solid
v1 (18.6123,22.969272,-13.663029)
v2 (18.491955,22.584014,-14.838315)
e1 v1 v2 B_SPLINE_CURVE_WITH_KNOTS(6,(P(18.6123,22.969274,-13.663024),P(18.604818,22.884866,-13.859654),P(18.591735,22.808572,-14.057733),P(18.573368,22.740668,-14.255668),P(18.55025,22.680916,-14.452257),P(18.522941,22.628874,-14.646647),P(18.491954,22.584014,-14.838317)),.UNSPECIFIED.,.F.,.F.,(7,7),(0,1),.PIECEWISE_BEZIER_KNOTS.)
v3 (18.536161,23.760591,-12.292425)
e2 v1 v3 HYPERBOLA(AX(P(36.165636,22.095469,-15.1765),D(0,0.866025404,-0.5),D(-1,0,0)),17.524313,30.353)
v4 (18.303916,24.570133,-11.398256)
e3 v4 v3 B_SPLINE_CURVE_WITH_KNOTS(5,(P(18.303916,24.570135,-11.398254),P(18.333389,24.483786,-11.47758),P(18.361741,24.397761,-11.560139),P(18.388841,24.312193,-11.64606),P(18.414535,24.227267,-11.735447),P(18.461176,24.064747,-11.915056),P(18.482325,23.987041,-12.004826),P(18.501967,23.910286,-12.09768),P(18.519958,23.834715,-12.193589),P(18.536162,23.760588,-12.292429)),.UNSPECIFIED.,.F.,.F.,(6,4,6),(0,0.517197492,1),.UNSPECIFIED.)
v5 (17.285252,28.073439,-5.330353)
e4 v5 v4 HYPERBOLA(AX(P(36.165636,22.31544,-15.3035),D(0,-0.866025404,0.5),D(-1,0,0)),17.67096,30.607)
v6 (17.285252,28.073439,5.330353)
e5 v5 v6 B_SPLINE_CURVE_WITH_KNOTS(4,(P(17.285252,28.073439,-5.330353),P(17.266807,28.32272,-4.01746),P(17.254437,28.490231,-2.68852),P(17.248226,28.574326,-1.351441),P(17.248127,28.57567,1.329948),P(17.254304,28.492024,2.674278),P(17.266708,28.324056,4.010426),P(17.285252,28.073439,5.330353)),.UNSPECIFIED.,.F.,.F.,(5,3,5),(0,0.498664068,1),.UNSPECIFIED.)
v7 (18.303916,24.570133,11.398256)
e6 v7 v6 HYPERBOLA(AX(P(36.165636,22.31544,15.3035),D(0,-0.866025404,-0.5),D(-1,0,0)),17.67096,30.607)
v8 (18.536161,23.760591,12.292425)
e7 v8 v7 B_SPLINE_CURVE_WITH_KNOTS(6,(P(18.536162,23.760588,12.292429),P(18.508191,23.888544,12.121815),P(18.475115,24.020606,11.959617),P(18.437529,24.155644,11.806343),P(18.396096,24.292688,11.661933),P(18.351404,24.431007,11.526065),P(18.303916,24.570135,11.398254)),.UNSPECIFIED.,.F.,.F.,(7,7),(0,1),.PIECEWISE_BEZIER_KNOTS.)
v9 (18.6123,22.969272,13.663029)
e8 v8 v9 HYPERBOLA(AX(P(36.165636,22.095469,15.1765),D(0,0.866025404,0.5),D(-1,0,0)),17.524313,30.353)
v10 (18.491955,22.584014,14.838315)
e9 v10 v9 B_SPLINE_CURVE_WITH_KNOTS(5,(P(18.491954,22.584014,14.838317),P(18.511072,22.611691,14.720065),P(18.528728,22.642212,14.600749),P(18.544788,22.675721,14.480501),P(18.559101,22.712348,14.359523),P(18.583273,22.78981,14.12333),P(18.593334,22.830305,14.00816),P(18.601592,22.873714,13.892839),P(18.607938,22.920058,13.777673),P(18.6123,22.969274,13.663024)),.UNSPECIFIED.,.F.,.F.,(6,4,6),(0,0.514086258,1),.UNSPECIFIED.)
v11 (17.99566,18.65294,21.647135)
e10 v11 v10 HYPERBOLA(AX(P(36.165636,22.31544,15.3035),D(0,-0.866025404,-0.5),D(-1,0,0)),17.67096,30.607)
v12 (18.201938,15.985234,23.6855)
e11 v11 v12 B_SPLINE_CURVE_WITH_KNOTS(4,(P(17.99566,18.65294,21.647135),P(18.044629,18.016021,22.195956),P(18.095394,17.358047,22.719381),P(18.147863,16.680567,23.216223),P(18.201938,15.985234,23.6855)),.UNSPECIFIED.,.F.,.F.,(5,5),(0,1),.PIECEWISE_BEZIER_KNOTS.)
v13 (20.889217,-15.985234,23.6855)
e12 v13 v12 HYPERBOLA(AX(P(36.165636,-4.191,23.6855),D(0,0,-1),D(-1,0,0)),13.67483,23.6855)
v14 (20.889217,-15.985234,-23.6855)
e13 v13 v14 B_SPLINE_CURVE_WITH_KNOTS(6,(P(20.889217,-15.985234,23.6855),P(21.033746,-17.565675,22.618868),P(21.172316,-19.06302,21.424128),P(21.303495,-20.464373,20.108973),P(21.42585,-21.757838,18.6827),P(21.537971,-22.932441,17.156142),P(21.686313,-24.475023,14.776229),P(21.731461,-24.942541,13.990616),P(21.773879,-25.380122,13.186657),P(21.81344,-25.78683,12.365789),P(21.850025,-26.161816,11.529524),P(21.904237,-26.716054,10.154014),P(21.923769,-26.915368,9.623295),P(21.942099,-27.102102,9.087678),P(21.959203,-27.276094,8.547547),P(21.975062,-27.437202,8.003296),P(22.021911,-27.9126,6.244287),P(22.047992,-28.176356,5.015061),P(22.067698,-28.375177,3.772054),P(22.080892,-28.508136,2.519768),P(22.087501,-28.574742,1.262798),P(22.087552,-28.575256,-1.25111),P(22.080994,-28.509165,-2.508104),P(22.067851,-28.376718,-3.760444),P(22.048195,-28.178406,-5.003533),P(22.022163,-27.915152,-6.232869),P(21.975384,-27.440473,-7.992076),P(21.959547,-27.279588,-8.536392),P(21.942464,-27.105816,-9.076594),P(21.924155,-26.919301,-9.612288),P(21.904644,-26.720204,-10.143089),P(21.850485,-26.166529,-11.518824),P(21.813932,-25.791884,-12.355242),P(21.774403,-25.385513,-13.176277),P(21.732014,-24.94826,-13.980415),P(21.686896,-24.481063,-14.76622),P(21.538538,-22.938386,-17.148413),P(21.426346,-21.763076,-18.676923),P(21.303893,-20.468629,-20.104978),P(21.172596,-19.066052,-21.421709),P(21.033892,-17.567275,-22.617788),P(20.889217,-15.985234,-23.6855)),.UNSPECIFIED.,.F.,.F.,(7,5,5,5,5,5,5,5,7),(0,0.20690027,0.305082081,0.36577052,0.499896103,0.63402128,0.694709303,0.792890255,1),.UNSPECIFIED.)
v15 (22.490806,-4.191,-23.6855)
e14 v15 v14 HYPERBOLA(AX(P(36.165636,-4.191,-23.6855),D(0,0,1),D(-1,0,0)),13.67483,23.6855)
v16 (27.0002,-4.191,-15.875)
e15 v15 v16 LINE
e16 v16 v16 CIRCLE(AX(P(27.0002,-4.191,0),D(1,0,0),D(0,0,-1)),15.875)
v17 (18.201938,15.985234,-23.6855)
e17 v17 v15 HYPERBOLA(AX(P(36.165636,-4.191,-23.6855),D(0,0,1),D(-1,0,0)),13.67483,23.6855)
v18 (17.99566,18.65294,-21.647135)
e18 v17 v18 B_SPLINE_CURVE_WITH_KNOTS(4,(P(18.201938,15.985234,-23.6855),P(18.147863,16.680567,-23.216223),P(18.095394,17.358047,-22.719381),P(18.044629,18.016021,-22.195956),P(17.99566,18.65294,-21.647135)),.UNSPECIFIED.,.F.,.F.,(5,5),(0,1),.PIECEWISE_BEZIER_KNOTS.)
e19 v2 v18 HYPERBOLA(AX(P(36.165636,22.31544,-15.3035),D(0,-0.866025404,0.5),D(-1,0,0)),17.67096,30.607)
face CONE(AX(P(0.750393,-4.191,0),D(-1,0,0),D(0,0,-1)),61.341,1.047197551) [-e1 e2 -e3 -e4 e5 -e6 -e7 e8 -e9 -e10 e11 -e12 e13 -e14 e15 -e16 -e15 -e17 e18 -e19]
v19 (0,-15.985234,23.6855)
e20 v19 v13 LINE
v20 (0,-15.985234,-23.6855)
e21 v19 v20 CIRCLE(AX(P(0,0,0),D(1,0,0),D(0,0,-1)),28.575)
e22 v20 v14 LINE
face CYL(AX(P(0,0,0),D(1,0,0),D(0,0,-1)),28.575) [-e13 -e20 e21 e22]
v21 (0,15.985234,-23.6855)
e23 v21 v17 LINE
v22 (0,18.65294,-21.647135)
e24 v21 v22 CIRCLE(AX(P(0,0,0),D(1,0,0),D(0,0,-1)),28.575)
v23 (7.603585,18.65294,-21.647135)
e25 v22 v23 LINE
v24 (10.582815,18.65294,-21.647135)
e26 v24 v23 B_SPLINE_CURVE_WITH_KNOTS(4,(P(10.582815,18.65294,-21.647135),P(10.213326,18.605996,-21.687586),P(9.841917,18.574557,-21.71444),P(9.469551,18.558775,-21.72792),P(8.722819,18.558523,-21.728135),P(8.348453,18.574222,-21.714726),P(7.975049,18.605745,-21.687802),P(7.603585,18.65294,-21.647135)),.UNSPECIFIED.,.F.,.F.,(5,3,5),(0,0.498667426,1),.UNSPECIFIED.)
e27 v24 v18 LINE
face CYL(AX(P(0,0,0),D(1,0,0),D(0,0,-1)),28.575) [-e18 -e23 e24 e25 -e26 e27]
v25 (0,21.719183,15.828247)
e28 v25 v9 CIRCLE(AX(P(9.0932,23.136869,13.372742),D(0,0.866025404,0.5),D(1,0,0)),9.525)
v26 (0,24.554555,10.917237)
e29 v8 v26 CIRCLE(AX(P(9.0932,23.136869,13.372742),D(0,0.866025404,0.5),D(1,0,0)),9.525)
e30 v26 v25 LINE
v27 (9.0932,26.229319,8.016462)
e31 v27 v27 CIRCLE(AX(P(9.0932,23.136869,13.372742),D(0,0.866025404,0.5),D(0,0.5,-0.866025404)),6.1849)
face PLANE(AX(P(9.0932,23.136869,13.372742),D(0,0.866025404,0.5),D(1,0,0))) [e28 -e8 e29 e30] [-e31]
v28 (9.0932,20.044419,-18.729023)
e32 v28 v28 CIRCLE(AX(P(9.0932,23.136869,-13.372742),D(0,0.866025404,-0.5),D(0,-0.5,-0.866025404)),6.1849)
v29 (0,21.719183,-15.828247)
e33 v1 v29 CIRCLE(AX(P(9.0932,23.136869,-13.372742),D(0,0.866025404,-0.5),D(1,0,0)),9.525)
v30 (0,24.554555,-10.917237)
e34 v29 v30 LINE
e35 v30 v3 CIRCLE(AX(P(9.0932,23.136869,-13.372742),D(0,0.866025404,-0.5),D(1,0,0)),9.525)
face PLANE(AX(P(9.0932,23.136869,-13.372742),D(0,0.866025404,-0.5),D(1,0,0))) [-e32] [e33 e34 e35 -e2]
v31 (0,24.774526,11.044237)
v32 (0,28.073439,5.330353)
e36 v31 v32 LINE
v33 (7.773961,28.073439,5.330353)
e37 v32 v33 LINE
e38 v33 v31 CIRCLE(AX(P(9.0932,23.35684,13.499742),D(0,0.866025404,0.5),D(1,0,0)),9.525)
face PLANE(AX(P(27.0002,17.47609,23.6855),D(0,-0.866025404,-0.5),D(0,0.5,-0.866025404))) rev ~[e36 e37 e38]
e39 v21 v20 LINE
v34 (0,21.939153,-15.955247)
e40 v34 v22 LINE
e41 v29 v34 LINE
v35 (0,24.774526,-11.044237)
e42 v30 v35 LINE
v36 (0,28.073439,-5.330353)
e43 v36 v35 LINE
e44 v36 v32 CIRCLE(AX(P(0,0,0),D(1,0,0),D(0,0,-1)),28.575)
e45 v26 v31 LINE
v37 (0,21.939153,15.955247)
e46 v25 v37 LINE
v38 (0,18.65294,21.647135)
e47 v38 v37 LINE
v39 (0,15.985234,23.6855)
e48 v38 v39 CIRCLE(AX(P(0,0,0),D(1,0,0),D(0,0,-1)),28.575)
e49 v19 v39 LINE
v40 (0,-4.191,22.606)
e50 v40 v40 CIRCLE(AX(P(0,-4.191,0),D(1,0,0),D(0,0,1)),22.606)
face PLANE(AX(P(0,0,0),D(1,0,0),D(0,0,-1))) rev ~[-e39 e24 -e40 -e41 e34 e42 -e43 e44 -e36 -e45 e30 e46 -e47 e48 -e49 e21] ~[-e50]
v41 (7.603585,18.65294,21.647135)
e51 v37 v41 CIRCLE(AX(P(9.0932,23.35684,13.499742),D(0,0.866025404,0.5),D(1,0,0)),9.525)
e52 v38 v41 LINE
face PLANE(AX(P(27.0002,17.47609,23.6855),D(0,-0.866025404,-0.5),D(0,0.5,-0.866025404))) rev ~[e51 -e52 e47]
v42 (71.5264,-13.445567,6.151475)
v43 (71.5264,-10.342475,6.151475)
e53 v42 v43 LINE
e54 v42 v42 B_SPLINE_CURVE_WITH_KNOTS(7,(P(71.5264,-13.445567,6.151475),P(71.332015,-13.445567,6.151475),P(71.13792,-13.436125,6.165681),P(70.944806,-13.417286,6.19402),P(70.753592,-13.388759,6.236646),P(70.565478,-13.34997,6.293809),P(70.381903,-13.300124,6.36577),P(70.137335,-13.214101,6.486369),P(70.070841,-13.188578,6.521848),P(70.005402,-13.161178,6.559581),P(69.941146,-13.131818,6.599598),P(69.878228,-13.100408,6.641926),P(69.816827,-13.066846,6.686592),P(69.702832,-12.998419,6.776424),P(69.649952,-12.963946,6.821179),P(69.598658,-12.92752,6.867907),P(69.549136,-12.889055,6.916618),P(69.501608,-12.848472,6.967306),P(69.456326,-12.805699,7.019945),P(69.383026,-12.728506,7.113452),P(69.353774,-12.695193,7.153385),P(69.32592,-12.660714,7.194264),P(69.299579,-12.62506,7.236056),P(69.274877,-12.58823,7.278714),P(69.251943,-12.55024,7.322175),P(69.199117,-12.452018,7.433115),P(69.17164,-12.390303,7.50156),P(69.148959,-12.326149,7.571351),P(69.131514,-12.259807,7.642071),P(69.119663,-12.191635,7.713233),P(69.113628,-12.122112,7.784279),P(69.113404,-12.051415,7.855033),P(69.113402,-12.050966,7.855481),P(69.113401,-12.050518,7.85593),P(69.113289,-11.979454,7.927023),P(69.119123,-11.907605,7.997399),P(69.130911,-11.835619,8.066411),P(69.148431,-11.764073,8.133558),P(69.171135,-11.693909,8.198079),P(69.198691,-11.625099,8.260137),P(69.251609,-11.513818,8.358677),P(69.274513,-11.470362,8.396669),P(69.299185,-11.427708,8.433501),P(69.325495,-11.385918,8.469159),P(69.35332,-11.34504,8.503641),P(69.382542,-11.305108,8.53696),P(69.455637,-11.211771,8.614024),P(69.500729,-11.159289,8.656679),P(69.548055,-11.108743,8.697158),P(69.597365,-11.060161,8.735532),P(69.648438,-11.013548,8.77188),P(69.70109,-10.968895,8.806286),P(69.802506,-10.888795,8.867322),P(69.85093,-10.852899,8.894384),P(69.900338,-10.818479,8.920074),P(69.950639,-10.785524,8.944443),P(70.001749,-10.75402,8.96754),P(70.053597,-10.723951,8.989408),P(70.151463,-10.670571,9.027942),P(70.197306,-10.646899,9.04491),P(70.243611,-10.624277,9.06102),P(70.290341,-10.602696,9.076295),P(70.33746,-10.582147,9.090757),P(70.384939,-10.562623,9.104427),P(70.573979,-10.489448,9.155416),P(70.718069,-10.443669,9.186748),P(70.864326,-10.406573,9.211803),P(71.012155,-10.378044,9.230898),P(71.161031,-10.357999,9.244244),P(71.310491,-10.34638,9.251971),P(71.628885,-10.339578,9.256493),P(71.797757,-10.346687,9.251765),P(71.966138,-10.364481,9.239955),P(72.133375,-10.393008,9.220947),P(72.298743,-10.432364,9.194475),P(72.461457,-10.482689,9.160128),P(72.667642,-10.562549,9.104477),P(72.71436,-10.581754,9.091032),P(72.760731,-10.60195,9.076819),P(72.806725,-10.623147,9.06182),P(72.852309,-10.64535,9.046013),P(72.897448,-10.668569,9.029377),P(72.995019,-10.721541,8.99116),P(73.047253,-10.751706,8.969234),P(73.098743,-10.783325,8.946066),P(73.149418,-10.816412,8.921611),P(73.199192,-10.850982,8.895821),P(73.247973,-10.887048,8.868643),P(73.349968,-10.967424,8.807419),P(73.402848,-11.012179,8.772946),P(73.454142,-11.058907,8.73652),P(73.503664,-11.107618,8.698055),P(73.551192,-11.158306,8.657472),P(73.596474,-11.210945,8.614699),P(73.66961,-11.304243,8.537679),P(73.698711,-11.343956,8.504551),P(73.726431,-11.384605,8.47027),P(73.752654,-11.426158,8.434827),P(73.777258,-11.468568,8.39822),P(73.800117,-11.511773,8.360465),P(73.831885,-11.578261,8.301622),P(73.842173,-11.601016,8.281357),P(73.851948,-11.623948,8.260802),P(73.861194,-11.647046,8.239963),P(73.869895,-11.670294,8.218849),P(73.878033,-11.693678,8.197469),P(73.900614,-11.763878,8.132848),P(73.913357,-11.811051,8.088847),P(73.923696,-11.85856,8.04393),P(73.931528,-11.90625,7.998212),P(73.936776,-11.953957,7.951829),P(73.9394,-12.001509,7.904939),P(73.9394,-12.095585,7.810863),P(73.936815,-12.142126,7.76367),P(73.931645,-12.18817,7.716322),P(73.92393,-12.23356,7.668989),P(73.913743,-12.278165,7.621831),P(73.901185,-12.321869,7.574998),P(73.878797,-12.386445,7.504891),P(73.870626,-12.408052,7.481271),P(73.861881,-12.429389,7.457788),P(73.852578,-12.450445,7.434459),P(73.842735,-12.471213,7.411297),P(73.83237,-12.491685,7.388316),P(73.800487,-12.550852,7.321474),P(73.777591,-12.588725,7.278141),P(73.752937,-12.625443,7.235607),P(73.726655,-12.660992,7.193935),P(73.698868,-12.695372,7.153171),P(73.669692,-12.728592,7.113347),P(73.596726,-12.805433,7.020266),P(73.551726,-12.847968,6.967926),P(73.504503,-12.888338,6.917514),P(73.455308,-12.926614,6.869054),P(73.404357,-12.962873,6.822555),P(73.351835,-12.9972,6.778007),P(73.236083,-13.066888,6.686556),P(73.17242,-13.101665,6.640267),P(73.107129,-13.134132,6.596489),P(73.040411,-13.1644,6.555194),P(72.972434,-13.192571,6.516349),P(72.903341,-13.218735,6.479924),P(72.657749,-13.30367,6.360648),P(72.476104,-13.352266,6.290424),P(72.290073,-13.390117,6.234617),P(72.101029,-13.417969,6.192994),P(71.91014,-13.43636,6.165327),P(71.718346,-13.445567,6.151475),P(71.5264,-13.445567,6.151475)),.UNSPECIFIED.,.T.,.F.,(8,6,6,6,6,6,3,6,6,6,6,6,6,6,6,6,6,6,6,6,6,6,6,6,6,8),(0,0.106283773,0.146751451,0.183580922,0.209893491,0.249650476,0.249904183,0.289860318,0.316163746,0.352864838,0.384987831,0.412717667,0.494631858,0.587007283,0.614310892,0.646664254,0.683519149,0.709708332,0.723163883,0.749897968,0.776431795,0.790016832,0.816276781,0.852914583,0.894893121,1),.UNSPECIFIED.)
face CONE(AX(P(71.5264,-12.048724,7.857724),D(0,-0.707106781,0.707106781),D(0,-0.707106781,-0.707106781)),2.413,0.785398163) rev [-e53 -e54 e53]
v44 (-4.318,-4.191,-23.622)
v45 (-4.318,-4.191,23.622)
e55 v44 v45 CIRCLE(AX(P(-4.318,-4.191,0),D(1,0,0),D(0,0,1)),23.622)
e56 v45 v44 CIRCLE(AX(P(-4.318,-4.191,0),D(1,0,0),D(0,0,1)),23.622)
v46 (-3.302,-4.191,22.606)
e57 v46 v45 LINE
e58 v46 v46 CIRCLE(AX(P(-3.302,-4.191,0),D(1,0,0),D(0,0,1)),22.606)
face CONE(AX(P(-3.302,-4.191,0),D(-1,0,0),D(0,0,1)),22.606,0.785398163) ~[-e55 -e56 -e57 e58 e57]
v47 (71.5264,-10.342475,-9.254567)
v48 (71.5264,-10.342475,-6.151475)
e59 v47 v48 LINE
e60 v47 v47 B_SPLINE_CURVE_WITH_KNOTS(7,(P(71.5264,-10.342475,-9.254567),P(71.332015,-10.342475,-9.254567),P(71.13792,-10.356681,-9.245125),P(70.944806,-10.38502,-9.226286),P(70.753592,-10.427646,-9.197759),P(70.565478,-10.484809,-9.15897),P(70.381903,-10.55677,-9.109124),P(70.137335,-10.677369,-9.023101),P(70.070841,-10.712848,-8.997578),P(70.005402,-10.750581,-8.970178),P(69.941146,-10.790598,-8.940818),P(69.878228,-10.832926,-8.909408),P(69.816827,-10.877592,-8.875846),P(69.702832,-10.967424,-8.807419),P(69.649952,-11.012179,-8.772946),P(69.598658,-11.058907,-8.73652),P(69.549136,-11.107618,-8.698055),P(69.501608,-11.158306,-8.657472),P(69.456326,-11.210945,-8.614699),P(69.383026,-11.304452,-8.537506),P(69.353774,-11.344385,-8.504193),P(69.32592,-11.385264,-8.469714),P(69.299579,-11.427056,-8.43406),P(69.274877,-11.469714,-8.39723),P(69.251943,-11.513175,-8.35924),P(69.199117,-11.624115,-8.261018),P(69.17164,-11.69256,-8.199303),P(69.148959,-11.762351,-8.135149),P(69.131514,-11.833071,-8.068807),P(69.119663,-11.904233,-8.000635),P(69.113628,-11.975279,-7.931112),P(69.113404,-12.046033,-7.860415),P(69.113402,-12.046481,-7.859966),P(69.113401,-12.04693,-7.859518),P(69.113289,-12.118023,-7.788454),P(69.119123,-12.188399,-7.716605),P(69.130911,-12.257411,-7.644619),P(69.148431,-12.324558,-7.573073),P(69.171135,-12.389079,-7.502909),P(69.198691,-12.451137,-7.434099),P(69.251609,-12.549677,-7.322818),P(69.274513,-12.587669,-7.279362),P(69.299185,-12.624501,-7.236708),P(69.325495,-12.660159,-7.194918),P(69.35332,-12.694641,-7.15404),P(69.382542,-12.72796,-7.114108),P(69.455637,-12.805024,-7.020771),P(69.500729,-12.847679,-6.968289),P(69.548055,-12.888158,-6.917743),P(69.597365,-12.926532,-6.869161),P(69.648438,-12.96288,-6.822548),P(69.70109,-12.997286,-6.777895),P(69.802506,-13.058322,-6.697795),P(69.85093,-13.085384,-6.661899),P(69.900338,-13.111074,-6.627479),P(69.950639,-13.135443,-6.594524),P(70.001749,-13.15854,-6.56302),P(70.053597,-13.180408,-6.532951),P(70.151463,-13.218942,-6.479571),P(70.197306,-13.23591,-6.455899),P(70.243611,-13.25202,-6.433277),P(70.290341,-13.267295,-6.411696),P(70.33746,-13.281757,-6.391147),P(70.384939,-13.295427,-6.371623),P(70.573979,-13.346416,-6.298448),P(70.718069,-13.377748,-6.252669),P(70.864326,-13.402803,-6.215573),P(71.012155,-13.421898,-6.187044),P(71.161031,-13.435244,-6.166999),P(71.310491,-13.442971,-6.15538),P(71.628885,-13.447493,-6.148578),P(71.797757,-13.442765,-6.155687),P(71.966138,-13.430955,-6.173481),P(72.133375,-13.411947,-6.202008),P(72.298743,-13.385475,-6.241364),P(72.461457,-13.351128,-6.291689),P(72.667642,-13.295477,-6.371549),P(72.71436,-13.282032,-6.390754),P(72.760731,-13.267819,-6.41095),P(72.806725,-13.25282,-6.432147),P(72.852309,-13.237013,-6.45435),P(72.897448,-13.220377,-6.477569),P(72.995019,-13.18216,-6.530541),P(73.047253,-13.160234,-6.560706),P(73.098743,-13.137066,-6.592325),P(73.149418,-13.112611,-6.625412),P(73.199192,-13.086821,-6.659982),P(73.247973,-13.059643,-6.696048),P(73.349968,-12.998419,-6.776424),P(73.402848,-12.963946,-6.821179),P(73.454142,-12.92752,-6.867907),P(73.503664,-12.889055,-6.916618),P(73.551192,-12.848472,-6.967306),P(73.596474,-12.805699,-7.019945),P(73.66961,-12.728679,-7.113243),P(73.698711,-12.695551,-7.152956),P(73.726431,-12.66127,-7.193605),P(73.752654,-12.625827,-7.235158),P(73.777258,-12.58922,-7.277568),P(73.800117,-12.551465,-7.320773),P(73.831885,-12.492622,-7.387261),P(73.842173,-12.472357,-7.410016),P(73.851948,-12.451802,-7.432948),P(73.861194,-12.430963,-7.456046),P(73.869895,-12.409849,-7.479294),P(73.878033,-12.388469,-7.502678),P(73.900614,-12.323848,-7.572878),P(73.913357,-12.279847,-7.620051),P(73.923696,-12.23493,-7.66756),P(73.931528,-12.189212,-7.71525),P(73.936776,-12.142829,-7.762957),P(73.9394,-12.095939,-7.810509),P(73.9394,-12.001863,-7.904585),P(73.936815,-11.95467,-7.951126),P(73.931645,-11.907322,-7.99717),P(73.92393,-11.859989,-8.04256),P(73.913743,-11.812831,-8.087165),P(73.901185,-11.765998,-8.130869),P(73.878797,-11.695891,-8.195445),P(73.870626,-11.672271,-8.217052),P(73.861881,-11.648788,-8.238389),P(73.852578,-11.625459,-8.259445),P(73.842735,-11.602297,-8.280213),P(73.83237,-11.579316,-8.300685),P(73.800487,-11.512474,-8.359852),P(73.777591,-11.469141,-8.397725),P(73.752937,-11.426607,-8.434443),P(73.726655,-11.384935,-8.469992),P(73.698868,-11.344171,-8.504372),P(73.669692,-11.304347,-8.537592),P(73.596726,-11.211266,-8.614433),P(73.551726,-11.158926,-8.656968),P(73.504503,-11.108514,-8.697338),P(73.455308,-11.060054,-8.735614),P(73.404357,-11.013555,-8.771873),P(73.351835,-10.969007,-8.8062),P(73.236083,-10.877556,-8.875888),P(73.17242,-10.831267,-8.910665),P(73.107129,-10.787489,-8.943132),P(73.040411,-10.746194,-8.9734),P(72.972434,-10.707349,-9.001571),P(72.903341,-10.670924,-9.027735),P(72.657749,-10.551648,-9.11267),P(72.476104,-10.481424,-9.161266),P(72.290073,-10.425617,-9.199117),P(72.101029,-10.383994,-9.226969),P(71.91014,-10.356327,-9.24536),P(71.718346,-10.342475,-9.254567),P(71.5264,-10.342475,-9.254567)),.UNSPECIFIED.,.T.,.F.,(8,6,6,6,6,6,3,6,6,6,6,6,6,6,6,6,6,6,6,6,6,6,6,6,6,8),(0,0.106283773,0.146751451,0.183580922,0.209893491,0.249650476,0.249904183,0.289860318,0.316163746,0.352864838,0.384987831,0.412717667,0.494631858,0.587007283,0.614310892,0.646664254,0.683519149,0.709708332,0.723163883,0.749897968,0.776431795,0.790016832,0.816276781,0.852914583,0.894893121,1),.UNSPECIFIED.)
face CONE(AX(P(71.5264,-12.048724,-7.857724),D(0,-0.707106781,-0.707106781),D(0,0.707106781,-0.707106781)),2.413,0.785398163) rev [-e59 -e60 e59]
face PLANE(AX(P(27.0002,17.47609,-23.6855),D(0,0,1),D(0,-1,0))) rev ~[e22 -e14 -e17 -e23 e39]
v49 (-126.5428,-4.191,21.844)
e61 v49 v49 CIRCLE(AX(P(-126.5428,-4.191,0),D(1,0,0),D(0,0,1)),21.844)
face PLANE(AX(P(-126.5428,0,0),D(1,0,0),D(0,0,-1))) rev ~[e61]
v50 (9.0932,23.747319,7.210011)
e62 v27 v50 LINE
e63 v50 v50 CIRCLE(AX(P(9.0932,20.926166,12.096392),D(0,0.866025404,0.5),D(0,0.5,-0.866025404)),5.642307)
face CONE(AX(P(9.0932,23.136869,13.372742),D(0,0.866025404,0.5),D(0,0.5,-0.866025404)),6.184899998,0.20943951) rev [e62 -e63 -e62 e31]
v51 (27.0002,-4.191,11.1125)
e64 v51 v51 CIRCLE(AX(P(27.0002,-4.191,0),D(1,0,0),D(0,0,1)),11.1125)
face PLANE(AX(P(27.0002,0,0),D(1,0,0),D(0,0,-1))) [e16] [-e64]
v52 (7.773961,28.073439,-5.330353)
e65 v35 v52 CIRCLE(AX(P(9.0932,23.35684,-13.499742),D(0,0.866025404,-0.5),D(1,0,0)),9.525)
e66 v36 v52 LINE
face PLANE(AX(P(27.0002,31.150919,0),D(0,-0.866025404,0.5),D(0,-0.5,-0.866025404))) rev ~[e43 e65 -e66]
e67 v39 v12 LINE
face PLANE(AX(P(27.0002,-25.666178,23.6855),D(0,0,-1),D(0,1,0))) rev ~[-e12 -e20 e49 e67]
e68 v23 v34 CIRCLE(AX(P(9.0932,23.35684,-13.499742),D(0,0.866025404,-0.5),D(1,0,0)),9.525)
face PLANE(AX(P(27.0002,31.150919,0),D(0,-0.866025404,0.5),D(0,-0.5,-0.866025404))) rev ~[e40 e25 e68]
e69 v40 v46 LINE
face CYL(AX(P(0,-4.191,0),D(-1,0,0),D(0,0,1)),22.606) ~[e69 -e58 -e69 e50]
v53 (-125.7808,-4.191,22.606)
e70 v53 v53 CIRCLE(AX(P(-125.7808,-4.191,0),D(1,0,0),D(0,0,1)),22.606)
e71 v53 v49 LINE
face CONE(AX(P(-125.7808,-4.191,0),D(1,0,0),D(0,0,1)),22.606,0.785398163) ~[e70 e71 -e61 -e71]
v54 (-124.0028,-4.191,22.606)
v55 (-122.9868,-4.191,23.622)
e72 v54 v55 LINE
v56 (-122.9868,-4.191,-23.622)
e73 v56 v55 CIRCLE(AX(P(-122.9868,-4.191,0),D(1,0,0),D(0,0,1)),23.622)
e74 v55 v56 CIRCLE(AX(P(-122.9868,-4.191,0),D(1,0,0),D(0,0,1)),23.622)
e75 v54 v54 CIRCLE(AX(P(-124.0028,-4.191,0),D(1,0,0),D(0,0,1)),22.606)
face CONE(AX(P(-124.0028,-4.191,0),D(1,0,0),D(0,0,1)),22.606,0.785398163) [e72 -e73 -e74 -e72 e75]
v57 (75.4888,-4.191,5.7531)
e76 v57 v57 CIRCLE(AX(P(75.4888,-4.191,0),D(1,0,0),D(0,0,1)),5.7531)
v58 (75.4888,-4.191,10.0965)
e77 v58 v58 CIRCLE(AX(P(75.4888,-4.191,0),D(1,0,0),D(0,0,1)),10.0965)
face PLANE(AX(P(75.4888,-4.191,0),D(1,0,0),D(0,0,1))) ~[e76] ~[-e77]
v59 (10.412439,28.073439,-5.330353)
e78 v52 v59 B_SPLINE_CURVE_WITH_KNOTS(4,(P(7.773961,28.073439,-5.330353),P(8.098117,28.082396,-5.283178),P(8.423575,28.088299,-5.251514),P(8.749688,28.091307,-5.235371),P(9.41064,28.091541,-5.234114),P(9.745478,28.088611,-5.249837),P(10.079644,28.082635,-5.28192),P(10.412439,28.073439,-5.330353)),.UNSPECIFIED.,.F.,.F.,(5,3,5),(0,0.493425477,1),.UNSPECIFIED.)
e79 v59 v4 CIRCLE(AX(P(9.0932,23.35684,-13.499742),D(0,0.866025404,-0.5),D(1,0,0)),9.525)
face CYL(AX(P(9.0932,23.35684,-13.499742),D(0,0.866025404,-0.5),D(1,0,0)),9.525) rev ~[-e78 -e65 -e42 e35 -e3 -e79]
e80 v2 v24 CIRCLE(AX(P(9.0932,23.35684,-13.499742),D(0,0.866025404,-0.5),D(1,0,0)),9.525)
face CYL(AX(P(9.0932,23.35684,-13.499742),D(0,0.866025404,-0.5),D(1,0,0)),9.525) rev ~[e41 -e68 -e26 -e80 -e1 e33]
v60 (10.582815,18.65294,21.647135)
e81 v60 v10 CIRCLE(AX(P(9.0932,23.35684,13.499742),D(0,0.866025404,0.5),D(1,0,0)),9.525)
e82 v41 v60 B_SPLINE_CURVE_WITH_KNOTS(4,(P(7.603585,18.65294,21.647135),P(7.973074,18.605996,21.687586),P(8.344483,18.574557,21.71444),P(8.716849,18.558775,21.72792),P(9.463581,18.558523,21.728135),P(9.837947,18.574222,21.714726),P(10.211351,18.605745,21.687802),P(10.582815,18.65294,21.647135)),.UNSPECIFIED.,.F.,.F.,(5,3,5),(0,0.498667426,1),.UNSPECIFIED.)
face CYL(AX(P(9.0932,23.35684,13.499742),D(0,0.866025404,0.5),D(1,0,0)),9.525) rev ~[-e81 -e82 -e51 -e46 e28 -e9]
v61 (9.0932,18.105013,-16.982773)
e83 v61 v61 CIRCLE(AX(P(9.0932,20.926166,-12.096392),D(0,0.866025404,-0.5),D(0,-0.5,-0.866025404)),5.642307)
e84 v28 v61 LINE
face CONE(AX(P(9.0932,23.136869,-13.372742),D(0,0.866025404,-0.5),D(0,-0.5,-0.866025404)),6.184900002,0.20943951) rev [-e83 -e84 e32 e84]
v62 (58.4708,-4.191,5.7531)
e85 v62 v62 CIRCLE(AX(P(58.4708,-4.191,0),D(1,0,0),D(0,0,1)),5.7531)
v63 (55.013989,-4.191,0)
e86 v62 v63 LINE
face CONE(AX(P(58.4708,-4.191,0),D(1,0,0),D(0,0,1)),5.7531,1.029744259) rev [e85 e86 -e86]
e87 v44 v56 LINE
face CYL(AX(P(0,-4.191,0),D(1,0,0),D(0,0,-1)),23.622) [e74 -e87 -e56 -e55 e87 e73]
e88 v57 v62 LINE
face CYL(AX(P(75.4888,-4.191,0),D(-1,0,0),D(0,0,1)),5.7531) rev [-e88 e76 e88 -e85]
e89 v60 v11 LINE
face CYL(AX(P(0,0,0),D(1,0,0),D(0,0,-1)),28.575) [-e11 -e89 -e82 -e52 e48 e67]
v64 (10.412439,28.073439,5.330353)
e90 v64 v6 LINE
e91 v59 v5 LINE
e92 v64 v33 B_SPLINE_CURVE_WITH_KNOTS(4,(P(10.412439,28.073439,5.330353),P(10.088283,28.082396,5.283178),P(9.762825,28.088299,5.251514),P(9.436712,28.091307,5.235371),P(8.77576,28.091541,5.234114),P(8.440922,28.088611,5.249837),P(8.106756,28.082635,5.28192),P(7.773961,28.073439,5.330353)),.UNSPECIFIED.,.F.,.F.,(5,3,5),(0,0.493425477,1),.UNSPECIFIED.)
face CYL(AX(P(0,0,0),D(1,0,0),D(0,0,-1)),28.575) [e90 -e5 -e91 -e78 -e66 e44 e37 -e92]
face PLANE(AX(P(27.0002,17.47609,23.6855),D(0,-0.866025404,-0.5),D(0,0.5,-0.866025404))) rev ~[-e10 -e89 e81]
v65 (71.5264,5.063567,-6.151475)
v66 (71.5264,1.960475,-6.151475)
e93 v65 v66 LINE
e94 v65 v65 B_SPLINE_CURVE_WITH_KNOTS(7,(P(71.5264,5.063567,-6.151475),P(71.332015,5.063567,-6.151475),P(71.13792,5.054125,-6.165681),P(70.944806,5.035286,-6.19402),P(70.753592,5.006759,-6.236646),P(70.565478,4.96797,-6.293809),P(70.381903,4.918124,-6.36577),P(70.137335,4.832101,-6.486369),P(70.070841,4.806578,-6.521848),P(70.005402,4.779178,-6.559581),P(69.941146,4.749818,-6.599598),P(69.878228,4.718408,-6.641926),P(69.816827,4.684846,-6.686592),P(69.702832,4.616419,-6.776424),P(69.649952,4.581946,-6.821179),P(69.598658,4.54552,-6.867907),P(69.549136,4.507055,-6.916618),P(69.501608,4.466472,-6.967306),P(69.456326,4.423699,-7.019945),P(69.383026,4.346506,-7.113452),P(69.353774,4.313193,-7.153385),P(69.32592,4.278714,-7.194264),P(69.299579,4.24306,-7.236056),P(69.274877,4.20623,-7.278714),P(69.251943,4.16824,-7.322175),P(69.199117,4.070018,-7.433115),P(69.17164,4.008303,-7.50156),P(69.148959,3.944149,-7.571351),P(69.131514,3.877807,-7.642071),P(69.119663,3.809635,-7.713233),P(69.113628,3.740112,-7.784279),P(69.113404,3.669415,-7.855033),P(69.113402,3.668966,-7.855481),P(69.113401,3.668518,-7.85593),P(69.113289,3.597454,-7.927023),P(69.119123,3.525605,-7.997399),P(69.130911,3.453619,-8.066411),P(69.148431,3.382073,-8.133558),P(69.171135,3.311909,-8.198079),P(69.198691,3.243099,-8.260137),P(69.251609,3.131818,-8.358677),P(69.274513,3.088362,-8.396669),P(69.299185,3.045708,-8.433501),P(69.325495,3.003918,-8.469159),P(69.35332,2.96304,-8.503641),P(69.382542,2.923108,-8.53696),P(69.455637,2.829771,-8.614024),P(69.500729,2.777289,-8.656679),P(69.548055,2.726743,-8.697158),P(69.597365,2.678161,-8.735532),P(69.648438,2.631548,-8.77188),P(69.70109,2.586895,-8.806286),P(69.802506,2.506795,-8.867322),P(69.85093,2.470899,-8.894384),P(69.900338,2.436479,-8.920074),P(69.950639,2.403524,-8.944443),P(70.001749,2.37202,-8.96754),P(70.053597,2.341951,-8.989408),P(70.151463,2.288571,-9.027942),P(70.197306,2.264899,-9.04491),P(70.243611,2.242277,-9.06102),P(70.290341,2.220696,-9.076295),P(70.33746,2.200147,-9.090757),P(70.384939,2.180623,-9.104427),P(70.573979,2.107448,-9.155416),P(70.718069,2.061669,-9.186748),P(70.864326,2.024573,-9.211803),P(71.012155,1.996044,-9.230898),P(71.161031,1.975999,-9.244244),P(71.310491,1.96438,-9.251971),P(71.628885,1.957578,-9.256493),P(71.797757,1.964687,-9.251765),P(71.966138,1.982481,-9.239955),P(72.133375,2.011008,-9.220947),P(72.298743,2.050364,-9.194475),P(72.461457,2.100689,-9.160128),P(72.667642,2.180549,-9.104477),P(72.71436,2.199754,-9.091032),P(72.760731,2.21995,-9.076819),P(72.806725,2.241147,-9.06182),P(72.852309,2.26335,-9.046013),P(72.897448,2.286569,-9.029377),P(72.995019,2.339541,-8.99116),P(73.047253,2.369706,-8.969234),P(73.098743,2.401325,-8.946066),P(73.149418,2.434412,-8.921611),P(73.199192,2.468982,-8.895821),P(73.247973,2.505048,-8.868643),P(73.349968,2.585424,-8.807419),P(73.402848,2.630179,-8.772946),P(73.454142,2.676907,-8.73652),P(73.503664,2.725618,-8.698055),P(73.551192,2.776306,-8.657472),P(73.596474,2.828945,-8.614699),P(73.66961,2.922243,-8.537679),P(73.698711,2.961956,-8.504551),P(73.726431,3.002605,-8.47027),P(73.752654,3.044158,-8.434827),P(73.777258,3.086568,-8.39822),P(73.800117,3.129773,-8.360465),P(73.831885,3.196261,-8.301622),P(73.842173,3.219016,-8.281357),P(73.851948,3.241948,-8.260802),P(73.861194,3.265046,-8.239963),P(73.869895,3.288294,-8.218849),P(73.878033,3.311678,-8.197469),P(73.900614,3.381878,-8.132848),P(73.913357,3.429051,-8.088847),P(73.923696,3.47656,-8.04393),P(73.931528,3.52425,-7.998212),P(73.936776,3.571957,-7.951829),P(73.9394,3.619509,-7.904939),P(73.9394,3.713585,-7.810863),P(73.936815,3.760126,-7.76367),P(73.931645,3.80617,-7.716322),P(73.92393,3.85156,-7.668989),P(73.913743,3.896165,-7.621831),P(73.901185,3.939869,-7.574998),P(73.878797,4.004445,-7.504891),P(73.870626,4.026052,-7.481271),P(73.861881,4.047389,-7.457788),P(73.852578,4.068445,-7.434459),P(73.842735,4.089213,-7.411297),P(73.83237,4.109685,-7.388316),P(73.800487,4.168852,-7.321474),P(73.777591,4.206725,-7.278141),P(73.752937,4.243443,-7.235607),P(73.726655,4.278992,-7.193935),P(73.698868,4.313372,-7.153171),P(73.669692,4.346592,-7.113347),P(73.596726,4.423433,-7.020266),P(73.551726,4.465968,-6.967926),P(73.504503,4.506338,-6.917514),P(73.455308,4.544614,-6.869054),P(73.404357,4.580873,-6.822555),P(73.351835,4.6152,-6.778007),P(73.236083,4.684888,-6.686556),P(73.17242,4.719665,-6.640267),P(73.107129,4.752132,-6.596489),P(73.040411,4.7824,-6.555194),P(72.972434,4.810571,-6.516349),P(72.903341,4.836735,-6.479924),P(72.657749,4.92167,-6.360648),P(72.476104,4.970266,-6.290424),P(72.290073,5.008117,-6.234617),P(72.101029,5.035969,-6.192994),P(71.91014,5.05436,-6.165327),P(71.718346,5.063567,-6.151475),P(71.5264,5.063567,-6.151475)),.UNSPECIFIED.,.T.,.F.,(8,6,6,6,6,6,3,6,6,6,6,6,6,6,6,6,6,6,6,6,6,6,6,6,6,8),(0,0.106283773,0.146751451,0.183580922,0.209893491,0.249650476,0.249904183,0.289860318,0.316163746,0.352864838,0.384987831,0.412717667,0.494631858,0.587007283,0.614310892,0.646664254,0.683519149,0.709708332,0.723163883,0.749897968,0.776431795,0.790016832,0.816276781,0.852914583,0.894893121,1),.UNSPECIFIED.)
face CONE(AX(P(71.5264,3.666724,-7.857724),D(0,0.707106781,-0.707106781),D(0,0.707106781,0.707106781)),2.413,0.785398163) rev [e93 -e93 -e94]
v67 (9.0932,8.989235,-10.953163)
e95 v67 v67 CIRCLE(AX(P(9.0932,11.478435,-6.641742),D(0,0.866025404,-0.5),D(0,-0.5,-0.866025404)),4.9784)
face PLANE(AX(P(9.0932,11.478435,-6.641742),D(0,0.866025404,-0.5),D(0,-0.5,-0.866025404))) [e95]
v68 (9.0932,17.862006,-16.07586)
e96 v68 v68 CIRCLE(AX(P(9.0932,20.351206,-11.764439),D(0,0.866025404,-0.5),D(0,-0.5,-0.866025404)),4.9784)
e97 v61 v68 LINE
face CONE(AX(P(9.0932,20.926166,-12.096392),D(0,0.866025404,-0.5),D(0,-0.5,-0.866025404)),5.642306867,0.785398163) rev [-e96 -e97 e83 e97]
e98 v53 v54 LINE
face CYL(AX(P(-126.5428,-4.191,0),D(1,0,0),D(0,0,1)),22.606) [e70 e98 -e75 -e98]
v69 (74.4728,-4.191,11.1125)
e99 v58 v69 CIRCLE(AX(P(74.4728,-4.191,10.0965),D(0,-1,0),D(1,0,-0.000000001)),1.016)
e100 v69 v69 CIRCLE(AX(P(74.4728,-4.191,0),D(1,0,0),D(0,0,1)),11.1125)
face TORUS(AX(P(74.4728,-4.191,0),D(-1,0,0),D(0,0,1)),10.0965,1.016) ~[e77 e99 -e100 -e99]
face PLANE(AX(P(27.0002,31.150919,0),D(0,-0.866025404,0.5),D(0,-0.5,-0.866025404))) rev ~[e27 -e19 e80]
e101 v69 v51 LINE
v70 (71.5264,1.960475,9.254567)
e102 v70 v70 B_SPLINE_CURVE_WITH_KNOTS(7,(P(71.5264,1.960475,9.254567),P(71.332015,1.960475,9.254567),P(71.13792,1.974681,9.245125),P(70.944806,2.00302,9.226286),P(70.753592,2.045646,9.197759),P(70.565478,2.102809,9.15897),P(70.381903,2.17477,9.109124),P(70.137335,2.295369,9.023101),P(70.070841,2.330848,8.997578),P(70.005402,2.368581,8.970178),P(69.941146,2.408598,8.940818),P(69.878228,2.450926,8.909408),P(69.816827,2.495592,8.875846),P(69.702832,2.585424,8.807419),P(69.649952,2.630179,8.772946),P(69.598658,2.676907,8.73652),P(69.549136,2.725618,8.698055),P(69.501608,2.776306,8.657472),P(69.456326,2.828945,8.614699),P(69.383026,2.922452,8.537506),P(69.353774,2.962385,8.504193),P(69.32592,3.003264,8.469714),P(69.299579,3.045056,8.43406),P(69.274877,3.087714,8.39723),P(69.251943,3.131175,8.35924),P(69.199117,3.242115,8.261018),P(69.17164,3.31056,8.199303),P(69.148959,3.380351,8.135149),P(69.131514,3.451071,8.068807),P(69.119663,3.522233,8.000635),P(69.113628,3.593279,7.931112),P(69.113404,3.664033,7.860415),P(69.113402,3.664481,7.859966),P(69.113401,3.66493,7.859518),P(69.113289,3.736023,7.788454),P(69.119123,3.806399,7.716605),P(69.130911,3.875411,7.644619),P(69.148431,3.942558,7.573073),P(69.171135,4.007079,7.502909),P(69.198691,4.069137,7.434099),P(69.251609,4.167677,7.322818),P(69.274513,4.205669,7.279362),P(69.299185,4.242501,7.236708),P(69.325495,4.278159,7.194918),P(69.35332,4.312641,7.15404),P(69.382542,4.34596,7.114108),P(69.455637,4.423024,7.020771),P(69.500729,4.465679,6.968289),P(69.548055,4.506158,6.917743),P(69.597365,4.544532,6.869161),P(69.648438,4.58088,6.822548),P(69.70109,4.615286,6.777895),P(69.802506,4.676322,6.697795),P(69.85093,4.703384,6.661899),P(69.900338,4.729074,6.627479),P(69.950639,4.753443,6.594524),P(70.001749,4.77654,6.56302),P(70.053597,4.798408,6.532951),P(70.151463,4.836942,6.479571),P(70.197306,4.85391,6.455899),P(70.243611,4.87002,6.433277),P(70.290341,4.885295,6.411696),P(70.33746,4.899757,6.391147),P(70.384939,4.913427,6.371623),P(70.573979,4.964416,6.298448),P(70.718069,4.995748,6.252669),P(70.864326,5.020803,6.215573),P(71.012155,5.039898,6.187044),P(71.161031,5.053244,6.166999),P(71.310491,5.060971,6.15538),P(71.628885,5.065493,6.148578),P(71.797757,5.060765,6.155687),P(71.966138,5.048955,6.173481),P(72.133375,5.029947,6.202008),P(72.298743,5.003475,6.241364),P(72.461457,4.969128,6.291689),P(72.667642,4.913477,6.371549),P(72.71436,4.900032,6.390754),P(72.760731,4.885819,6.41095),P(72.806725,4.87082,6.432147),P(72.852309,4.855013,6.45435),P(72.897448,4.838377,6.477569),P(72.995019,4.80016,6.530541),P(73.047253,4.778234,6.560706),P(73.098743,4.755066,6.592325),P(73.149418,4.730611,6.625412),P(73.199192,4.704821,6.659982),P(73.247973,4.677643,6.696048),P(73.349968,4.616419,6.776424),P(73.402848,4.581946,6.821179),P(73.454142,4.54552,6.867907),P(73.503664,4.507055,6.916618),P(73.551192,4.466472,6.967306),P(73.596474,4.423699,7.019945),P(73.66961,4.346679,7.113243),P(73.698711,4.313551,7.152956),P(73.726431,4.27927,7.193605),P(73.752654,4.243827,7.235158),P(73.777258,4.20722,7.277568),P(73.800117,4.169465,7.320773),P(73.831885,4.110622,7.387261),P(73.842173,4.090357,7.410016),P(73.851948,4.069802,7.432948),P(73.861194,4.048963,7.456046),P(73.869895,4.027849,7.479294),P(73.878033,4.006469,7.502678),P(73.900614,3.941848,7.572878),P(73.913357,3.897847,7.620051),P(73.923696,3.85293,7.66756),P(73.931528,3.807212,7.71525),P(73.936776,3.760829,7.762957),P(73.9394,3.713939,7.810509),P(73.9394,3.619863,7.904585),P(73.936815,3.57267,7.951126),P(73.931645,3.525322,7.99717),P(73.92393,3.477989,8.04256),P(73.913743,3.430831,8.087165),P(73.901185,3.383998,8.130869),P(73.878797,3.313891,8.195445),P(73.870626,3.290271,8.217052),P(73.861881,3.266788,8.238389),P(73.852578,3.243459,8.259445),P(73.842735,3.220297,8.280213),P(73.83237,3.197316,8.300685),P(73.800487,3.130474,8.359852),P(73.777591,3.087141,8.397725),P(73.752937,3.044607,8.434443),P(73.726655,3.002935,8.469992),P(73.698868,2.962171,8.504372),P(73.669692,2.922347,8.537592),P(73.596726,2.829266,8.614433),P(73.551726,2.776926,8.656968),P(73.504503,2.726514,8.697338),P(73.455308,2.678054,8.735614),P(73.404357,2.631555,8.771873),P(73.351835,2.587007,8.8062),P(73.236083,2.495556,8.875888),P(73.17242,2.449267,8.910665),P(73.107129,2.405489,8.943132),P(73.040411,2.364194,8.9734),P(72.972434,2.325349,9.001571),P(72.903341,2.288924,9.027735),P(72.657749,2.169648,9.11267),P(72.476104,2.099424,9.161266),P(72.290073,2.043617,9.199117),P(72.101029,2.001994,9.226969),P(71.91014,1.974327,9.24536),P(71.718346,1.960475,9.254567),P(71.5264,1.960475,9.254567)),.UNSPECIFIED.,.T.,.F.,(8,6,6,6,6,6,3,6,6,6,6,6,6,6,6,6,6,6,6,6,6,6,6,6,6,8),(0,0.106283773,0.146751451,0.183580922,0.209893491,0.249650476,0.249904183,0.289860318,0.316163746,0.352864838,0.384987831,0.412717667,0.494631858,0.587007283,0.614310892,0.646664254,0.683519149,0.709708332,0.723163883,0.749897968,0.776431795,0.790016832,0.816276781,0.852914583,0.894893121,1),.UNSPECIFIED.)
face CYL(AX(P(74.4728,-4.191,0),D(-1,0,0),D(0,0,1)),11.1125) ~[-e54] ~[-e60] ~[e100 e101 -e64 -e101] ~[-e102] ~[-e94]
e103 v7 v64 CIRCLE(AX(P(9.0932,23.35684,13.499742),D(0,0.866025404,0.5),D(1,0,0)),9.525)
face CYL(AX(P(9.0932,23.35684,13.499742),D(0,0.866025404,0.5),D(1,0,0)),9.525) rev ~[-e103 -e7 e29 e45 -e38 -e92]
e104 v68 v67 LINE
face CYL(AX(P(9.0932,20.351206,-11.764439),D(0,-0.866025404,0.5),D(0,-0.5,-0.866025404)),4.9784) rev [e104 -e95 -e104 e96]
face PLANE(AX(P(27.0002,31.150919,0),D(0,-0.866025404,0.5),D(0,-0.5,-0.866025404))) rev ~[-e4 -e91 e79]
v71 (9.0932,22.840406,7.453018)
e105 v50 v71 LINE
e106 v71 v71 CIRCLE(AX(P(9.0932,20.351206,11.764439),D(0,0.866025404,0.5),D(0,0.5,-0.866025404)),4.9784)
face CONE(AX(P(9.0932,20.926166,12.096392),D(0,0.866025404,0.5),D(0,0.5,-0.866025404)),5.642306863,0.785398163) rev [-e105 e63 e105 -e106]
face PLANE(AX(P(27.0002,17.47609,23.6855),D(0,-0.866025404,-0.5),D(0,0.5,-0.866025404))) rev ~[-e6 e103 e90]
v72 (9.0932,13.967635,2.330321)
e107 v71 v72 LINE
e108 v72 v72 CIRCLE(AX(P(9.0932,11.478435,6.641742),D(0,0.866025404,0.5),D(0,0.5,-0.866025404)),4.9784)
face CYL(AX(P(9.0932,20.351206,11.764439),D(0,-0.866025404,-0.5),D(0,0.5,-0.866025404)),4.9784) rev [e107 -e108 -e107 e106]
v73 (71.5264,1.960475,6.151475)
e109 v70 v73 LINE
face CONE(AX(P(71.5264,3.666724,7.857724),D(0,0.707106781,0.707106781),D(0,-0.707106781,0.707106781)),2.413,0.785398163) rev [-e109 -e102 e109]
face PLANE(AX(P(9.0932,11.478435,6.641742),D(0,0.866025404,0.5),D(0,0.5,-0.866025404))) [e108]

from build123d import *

# Parameters (mm, degrees)
SKETCH1_R           = 28.575
EXTRUDE1_DEPTH      = 27.0002
EXTRUDE1_DEPTH_BACK = 126.5428
CUT_EXTRUDE1_REACH  = 128.543
SKETCH2_R           = 28.575
SKETCH2_R_2         = 23.622
CUT_EXTRUDE3_START  = -27.0002
CUT_EXTRUDE3_DEPTH  = 27.0002
SKETCH18_R          = 9.525
CUT_EXTRUDE4_DEPTH  = 0.254
SKETCH19_R          = 9.525
CUT_EXTRUDE5_DEPTH  = 0.254
CHAMFER1_SIZE       = 0.762
CIRPATTERN1_COUNT   = 4


with BuildPart() as part:
    # Sketch1 → Extrude1 (new body, two sides)
    with BuildSketch(Plane(origin=(0, 0, 0), x_dir=(0, 0, -1), z_dir=(1, 0, 0))) as extrude1_sk:
        Circle(SKETCH1_R)
    extrude(amount=EXTRUDE1_DEPTH)
    extrude(extrude1_sk.sketch, amount=-EXTRUDE1_DEPTH_BACK)

    # Sketch2 → Cut-Extrude1 (cut, up to next)
    with BuildSketch(Plane(origin=(0, 0, 0), x_dir=(0, 0, -1), z_dir=(1, 0, 0)), mode=Mode.PRIVATE) as cut_extrude1_sk1:
        Circle(SKETCH2_R)
        with Locations((0, -4.191)):
            Circle(SKETCH2_R_2, mode=Mode.SUBTRACT)
    cut_extrude1_tool1 = extrude(cut_extrude1_sk1.sketch, amount=-CUT_EXTRUDE1_REACH, mode=Mode.PRIVATE) & part.part
    add(cut_extrude1_tool1.solids().sort_by_distance((0, 0, 27.766777))[0], mode=Mode.SUBTRACT)

    # Sketch4 → Cut-Extrude3 (cut)
    with BuildSketch(Plane.ZY.offset(CUT_EXTRUDE3_START)):
        with BuildLine():
            Line((23.6855, -25.666178421), (23.6855, 17.476089577))
            Line((23.6855, 17.476089577), (0, 31.150919378))
            Line((0, 31.150919378), (-23.6855, 17.476089577))
            Line((-23.6855, 17.476089577), (-23.6855, -25.666178421))
            ThreePointArc((-23.6855, -25.666178421), (0, 34.925), (23.6855, -25.666178421))
        make_face()
    extrude(amount=CUT_EXTRUDE3_DEPTH, mode=Mode.SUBTRACT)

    # Sketch6 → Cut-Revolve2 (revolve, cut)
    with BuildSketch(Plane.XY, mode=Mode.PRIVATE) as cut_revolve2_sk:
        Polygon((0.750392661, 57.15), (27.0002, 11.684), (27.0002, 57.15), align=None)
    revolve(cut_revolve2_sk.sketch.rotate(Axis((-0.562097706, -4.191, 0), (1, 0, 0)), 270), axis=Axis((-0.562097706, -4.191, 0), (1, 0, 0)), mode=Mode.SUBTRACT)  # turned: the seam where the file's is

    # S2D0002 → Cut-Revolve3 (revolve, cut)
    with BuildSketch(Plane(origin=(9.0932, 23.136869081, 13.372742289), x_dir=(0, 0.5, -0.866025404), z_dir=(1, 0, 0))):
        Polygon((0, 0), (6.1849, 0), (5.642306865, -2.5527), (4.9784, -3.216606865), (4.9784, -13.462), (0, -13.462), align=None)
    revolve(axis=Axis((9.0932, 10.895513396, 6.305192289), (0, 0.866025404, 0.5)), mode=Mode.SUBTRACT)

    # Sketch8 → Cut-Revolve4 (revolve, cut)
    with BuildSketch(Plane(origin=(9.0932, 23.136869081, -13.372742289), x_dir=(0, -0.5, -0.866025404), z_dir=(1, 0, 0))):
        Polygon((0, 0), (6.1849, 0), (5.642306865, -2.5527), (4.9784, -3.216606865), (4.9784, -13.462), (0, -13.462), align=None)
    revolve(axis=Axis((9.0932, 10.895513396, -6.305192289), (0, 0.866025404, -0.5)), mode=Mode.SUBTRACT)

    # Sketch18 → Cut-Extrude4 (cut)
    with BuildSketch(Plane(origin=(0, 23.363189534, 13.488743766), x_dir=(1, 0, 0), z_dir=(0, 0.866025404, 0.5))):
        with Locations((9.0932, -0.0127)):
            Circle(SKETCH18_R)
    extrude(amount=-CUT_EXTRUDE4_DEPTH, mode=Mode.SUBTRACT)

    # Sketch19 → Cut-Extrude5 (cut)
    with BuildSketch(Plane(origin=(0, 23.363189534, -13.488743766), x_dir=(1, 0, 0), z_dir=(0, 0.866025404, -0.5))):
        with Locations((9.0932, 0.0127)):
            Circle(SKETCH19_R)
    extrude(amount=-CUT_EXTRUDE5_DEPTH, mode=Mode.SUBTRACT)

    # Sketch10 → Cut-Revolve6 (revolve, cut)
    with BuildSketch(Plane.XY, mode=Mode.PRIVATE) as cut_revolve6_sk:
        Polygon((0, 19.431), (0, 18.415), (-3.302, 18.415), (-4.318, 19.431), align=None)
    revolve(cut_revolve6_sk.sketch.rotate(Axis((-4.5339, -4.191, 0), (1, 0, 0)), 90), axis=Axis((-4.5339, -4.191, 0), (1, 0, 0)), mode=Mode.SUBTRACT)  # turned: the seam where the file's is

    # Sketch12 → Cut-Revolve8 (revolve, cut)
    with BuildSketch(Plane.XY, mode=Mode.PRIVATE) as cut_revolve8_sk:
        Polygon((-126.5428, 19.431), (-126.5428, 18.415), (-124.0028, 18.415), (-122.9868, 19.431), align=None)
    revolve(cut_revolve8_sk.sketch.rotate(Axis((-84.3026, -4.191, 0), (1, 0, 0)), 90), axis=Axis((-84.3026, -4.191, 0), (1, 0, 0)), mode=Mode.SUBTRACT)  # turned: the seam where the file's is

    # Chamfer1
    chamfer1_edges = [part.edges().sort_by_distance(p)[0] for p in [
        (-126.5428, -4.191, -22.606),
    ]]
    chamfer(chamfer1_edges, length=CHAMFER1_SIZE)

    # Sketch13 → Revolve1 (revolve)
    with BuildSketch(Plane(origin=(0, 0, 0), x_dir=(0, -1, 0), z_dir=(0, 0, 1)), mode=Mode.PRIVATE) as revolve1_sk:
        with BuildLine():
            Line((4.191, 27.0002), (4.191, 75.4888))
            Line((4.191, 75.4888), (14.2875, 75.4888))
            ThreePointArc((14.2875, 75.4888), (15.00592049, 75.19122049), (15.3035, 74.4728))
            Line((15.3035, 74.4728), (15.3035, 27.0002))
            Line((15.3035, 27.0002), (4.191, 27.0002))
        make_face()
    revolve(revolve1_sk.sketch.rotate(Axis((25.10663, -4.191, 0), (1, 0, 0)), 270), axis=Axis((25.10663, -4.191, 0), (1, 0, 0)))  # turned: the seam where the file's is

    # S2D0001 → Cut-Revolve9 (revolve, cut)
    with BuildSketch(Plane(origin=(64.8716, -9.9441, 0), x_dir=(0, -1, 0), z_dir=(0, 0, 1)), mode=Mode.PRIVATE) as cut_revolve9_sk:
        Polygon((0, 10.6172), (0, -6.4008), (-5.7531, -9.857611227), (-5.7531, 10.6172), align=None)
    revolve(cut_revolve9_sk.sketch.rotate(Axis((43.373048211, -4.191, 0), (1, 0, 0)), 270), axis=Axis((43.373048211, -4.191, 0), (1, 0, 0)), mode=Mode.SUBTRACT)  # turned: the seam where the file's is

    # Sketch16 → Cut-Revolve10 (revolve, cut)
    with BuildSketch(Plane(origin=(60.9092, 3.666724106, -7.857724106), x_dir=(-1, 0, 0), z_dir=(0, -0.707106781, -0.707106781)), mode=Mode.PRIVATE) as cut_revolve10_sk:
        Polygon((-10.6172, 0), (-8.2042, 0), (-10.6172, -2.413), align=None)
    cut_revolve10 = revolve(cut_revolve10_sk.sketch.rotate(Axis((71.5264, 0.494324135, -4.685324135), (0, 0.707106781, -0.707106781)), 90), axis=Axis((71.5264, 0.494324135, -4.685324135), (0, 0.707106781, -0.707106781)), mode=Mode.SUBTRACT)  # turned: the seam where the file's is

    # CirPattern1: Cut-Revolve10 ×4 about axis
    cirpattern1_axis = Axis((25.10663, -4.191, 0), (-1, 0, 0))
    for i in range(1, CIRPATTERN1_COUNT):
        add(cut_revolve10.rotate(cirpattern1_axis, i * 360 / CIRPATTERN1_COUNT), mode=Mode.SUBTRACT)


solid = part.part
